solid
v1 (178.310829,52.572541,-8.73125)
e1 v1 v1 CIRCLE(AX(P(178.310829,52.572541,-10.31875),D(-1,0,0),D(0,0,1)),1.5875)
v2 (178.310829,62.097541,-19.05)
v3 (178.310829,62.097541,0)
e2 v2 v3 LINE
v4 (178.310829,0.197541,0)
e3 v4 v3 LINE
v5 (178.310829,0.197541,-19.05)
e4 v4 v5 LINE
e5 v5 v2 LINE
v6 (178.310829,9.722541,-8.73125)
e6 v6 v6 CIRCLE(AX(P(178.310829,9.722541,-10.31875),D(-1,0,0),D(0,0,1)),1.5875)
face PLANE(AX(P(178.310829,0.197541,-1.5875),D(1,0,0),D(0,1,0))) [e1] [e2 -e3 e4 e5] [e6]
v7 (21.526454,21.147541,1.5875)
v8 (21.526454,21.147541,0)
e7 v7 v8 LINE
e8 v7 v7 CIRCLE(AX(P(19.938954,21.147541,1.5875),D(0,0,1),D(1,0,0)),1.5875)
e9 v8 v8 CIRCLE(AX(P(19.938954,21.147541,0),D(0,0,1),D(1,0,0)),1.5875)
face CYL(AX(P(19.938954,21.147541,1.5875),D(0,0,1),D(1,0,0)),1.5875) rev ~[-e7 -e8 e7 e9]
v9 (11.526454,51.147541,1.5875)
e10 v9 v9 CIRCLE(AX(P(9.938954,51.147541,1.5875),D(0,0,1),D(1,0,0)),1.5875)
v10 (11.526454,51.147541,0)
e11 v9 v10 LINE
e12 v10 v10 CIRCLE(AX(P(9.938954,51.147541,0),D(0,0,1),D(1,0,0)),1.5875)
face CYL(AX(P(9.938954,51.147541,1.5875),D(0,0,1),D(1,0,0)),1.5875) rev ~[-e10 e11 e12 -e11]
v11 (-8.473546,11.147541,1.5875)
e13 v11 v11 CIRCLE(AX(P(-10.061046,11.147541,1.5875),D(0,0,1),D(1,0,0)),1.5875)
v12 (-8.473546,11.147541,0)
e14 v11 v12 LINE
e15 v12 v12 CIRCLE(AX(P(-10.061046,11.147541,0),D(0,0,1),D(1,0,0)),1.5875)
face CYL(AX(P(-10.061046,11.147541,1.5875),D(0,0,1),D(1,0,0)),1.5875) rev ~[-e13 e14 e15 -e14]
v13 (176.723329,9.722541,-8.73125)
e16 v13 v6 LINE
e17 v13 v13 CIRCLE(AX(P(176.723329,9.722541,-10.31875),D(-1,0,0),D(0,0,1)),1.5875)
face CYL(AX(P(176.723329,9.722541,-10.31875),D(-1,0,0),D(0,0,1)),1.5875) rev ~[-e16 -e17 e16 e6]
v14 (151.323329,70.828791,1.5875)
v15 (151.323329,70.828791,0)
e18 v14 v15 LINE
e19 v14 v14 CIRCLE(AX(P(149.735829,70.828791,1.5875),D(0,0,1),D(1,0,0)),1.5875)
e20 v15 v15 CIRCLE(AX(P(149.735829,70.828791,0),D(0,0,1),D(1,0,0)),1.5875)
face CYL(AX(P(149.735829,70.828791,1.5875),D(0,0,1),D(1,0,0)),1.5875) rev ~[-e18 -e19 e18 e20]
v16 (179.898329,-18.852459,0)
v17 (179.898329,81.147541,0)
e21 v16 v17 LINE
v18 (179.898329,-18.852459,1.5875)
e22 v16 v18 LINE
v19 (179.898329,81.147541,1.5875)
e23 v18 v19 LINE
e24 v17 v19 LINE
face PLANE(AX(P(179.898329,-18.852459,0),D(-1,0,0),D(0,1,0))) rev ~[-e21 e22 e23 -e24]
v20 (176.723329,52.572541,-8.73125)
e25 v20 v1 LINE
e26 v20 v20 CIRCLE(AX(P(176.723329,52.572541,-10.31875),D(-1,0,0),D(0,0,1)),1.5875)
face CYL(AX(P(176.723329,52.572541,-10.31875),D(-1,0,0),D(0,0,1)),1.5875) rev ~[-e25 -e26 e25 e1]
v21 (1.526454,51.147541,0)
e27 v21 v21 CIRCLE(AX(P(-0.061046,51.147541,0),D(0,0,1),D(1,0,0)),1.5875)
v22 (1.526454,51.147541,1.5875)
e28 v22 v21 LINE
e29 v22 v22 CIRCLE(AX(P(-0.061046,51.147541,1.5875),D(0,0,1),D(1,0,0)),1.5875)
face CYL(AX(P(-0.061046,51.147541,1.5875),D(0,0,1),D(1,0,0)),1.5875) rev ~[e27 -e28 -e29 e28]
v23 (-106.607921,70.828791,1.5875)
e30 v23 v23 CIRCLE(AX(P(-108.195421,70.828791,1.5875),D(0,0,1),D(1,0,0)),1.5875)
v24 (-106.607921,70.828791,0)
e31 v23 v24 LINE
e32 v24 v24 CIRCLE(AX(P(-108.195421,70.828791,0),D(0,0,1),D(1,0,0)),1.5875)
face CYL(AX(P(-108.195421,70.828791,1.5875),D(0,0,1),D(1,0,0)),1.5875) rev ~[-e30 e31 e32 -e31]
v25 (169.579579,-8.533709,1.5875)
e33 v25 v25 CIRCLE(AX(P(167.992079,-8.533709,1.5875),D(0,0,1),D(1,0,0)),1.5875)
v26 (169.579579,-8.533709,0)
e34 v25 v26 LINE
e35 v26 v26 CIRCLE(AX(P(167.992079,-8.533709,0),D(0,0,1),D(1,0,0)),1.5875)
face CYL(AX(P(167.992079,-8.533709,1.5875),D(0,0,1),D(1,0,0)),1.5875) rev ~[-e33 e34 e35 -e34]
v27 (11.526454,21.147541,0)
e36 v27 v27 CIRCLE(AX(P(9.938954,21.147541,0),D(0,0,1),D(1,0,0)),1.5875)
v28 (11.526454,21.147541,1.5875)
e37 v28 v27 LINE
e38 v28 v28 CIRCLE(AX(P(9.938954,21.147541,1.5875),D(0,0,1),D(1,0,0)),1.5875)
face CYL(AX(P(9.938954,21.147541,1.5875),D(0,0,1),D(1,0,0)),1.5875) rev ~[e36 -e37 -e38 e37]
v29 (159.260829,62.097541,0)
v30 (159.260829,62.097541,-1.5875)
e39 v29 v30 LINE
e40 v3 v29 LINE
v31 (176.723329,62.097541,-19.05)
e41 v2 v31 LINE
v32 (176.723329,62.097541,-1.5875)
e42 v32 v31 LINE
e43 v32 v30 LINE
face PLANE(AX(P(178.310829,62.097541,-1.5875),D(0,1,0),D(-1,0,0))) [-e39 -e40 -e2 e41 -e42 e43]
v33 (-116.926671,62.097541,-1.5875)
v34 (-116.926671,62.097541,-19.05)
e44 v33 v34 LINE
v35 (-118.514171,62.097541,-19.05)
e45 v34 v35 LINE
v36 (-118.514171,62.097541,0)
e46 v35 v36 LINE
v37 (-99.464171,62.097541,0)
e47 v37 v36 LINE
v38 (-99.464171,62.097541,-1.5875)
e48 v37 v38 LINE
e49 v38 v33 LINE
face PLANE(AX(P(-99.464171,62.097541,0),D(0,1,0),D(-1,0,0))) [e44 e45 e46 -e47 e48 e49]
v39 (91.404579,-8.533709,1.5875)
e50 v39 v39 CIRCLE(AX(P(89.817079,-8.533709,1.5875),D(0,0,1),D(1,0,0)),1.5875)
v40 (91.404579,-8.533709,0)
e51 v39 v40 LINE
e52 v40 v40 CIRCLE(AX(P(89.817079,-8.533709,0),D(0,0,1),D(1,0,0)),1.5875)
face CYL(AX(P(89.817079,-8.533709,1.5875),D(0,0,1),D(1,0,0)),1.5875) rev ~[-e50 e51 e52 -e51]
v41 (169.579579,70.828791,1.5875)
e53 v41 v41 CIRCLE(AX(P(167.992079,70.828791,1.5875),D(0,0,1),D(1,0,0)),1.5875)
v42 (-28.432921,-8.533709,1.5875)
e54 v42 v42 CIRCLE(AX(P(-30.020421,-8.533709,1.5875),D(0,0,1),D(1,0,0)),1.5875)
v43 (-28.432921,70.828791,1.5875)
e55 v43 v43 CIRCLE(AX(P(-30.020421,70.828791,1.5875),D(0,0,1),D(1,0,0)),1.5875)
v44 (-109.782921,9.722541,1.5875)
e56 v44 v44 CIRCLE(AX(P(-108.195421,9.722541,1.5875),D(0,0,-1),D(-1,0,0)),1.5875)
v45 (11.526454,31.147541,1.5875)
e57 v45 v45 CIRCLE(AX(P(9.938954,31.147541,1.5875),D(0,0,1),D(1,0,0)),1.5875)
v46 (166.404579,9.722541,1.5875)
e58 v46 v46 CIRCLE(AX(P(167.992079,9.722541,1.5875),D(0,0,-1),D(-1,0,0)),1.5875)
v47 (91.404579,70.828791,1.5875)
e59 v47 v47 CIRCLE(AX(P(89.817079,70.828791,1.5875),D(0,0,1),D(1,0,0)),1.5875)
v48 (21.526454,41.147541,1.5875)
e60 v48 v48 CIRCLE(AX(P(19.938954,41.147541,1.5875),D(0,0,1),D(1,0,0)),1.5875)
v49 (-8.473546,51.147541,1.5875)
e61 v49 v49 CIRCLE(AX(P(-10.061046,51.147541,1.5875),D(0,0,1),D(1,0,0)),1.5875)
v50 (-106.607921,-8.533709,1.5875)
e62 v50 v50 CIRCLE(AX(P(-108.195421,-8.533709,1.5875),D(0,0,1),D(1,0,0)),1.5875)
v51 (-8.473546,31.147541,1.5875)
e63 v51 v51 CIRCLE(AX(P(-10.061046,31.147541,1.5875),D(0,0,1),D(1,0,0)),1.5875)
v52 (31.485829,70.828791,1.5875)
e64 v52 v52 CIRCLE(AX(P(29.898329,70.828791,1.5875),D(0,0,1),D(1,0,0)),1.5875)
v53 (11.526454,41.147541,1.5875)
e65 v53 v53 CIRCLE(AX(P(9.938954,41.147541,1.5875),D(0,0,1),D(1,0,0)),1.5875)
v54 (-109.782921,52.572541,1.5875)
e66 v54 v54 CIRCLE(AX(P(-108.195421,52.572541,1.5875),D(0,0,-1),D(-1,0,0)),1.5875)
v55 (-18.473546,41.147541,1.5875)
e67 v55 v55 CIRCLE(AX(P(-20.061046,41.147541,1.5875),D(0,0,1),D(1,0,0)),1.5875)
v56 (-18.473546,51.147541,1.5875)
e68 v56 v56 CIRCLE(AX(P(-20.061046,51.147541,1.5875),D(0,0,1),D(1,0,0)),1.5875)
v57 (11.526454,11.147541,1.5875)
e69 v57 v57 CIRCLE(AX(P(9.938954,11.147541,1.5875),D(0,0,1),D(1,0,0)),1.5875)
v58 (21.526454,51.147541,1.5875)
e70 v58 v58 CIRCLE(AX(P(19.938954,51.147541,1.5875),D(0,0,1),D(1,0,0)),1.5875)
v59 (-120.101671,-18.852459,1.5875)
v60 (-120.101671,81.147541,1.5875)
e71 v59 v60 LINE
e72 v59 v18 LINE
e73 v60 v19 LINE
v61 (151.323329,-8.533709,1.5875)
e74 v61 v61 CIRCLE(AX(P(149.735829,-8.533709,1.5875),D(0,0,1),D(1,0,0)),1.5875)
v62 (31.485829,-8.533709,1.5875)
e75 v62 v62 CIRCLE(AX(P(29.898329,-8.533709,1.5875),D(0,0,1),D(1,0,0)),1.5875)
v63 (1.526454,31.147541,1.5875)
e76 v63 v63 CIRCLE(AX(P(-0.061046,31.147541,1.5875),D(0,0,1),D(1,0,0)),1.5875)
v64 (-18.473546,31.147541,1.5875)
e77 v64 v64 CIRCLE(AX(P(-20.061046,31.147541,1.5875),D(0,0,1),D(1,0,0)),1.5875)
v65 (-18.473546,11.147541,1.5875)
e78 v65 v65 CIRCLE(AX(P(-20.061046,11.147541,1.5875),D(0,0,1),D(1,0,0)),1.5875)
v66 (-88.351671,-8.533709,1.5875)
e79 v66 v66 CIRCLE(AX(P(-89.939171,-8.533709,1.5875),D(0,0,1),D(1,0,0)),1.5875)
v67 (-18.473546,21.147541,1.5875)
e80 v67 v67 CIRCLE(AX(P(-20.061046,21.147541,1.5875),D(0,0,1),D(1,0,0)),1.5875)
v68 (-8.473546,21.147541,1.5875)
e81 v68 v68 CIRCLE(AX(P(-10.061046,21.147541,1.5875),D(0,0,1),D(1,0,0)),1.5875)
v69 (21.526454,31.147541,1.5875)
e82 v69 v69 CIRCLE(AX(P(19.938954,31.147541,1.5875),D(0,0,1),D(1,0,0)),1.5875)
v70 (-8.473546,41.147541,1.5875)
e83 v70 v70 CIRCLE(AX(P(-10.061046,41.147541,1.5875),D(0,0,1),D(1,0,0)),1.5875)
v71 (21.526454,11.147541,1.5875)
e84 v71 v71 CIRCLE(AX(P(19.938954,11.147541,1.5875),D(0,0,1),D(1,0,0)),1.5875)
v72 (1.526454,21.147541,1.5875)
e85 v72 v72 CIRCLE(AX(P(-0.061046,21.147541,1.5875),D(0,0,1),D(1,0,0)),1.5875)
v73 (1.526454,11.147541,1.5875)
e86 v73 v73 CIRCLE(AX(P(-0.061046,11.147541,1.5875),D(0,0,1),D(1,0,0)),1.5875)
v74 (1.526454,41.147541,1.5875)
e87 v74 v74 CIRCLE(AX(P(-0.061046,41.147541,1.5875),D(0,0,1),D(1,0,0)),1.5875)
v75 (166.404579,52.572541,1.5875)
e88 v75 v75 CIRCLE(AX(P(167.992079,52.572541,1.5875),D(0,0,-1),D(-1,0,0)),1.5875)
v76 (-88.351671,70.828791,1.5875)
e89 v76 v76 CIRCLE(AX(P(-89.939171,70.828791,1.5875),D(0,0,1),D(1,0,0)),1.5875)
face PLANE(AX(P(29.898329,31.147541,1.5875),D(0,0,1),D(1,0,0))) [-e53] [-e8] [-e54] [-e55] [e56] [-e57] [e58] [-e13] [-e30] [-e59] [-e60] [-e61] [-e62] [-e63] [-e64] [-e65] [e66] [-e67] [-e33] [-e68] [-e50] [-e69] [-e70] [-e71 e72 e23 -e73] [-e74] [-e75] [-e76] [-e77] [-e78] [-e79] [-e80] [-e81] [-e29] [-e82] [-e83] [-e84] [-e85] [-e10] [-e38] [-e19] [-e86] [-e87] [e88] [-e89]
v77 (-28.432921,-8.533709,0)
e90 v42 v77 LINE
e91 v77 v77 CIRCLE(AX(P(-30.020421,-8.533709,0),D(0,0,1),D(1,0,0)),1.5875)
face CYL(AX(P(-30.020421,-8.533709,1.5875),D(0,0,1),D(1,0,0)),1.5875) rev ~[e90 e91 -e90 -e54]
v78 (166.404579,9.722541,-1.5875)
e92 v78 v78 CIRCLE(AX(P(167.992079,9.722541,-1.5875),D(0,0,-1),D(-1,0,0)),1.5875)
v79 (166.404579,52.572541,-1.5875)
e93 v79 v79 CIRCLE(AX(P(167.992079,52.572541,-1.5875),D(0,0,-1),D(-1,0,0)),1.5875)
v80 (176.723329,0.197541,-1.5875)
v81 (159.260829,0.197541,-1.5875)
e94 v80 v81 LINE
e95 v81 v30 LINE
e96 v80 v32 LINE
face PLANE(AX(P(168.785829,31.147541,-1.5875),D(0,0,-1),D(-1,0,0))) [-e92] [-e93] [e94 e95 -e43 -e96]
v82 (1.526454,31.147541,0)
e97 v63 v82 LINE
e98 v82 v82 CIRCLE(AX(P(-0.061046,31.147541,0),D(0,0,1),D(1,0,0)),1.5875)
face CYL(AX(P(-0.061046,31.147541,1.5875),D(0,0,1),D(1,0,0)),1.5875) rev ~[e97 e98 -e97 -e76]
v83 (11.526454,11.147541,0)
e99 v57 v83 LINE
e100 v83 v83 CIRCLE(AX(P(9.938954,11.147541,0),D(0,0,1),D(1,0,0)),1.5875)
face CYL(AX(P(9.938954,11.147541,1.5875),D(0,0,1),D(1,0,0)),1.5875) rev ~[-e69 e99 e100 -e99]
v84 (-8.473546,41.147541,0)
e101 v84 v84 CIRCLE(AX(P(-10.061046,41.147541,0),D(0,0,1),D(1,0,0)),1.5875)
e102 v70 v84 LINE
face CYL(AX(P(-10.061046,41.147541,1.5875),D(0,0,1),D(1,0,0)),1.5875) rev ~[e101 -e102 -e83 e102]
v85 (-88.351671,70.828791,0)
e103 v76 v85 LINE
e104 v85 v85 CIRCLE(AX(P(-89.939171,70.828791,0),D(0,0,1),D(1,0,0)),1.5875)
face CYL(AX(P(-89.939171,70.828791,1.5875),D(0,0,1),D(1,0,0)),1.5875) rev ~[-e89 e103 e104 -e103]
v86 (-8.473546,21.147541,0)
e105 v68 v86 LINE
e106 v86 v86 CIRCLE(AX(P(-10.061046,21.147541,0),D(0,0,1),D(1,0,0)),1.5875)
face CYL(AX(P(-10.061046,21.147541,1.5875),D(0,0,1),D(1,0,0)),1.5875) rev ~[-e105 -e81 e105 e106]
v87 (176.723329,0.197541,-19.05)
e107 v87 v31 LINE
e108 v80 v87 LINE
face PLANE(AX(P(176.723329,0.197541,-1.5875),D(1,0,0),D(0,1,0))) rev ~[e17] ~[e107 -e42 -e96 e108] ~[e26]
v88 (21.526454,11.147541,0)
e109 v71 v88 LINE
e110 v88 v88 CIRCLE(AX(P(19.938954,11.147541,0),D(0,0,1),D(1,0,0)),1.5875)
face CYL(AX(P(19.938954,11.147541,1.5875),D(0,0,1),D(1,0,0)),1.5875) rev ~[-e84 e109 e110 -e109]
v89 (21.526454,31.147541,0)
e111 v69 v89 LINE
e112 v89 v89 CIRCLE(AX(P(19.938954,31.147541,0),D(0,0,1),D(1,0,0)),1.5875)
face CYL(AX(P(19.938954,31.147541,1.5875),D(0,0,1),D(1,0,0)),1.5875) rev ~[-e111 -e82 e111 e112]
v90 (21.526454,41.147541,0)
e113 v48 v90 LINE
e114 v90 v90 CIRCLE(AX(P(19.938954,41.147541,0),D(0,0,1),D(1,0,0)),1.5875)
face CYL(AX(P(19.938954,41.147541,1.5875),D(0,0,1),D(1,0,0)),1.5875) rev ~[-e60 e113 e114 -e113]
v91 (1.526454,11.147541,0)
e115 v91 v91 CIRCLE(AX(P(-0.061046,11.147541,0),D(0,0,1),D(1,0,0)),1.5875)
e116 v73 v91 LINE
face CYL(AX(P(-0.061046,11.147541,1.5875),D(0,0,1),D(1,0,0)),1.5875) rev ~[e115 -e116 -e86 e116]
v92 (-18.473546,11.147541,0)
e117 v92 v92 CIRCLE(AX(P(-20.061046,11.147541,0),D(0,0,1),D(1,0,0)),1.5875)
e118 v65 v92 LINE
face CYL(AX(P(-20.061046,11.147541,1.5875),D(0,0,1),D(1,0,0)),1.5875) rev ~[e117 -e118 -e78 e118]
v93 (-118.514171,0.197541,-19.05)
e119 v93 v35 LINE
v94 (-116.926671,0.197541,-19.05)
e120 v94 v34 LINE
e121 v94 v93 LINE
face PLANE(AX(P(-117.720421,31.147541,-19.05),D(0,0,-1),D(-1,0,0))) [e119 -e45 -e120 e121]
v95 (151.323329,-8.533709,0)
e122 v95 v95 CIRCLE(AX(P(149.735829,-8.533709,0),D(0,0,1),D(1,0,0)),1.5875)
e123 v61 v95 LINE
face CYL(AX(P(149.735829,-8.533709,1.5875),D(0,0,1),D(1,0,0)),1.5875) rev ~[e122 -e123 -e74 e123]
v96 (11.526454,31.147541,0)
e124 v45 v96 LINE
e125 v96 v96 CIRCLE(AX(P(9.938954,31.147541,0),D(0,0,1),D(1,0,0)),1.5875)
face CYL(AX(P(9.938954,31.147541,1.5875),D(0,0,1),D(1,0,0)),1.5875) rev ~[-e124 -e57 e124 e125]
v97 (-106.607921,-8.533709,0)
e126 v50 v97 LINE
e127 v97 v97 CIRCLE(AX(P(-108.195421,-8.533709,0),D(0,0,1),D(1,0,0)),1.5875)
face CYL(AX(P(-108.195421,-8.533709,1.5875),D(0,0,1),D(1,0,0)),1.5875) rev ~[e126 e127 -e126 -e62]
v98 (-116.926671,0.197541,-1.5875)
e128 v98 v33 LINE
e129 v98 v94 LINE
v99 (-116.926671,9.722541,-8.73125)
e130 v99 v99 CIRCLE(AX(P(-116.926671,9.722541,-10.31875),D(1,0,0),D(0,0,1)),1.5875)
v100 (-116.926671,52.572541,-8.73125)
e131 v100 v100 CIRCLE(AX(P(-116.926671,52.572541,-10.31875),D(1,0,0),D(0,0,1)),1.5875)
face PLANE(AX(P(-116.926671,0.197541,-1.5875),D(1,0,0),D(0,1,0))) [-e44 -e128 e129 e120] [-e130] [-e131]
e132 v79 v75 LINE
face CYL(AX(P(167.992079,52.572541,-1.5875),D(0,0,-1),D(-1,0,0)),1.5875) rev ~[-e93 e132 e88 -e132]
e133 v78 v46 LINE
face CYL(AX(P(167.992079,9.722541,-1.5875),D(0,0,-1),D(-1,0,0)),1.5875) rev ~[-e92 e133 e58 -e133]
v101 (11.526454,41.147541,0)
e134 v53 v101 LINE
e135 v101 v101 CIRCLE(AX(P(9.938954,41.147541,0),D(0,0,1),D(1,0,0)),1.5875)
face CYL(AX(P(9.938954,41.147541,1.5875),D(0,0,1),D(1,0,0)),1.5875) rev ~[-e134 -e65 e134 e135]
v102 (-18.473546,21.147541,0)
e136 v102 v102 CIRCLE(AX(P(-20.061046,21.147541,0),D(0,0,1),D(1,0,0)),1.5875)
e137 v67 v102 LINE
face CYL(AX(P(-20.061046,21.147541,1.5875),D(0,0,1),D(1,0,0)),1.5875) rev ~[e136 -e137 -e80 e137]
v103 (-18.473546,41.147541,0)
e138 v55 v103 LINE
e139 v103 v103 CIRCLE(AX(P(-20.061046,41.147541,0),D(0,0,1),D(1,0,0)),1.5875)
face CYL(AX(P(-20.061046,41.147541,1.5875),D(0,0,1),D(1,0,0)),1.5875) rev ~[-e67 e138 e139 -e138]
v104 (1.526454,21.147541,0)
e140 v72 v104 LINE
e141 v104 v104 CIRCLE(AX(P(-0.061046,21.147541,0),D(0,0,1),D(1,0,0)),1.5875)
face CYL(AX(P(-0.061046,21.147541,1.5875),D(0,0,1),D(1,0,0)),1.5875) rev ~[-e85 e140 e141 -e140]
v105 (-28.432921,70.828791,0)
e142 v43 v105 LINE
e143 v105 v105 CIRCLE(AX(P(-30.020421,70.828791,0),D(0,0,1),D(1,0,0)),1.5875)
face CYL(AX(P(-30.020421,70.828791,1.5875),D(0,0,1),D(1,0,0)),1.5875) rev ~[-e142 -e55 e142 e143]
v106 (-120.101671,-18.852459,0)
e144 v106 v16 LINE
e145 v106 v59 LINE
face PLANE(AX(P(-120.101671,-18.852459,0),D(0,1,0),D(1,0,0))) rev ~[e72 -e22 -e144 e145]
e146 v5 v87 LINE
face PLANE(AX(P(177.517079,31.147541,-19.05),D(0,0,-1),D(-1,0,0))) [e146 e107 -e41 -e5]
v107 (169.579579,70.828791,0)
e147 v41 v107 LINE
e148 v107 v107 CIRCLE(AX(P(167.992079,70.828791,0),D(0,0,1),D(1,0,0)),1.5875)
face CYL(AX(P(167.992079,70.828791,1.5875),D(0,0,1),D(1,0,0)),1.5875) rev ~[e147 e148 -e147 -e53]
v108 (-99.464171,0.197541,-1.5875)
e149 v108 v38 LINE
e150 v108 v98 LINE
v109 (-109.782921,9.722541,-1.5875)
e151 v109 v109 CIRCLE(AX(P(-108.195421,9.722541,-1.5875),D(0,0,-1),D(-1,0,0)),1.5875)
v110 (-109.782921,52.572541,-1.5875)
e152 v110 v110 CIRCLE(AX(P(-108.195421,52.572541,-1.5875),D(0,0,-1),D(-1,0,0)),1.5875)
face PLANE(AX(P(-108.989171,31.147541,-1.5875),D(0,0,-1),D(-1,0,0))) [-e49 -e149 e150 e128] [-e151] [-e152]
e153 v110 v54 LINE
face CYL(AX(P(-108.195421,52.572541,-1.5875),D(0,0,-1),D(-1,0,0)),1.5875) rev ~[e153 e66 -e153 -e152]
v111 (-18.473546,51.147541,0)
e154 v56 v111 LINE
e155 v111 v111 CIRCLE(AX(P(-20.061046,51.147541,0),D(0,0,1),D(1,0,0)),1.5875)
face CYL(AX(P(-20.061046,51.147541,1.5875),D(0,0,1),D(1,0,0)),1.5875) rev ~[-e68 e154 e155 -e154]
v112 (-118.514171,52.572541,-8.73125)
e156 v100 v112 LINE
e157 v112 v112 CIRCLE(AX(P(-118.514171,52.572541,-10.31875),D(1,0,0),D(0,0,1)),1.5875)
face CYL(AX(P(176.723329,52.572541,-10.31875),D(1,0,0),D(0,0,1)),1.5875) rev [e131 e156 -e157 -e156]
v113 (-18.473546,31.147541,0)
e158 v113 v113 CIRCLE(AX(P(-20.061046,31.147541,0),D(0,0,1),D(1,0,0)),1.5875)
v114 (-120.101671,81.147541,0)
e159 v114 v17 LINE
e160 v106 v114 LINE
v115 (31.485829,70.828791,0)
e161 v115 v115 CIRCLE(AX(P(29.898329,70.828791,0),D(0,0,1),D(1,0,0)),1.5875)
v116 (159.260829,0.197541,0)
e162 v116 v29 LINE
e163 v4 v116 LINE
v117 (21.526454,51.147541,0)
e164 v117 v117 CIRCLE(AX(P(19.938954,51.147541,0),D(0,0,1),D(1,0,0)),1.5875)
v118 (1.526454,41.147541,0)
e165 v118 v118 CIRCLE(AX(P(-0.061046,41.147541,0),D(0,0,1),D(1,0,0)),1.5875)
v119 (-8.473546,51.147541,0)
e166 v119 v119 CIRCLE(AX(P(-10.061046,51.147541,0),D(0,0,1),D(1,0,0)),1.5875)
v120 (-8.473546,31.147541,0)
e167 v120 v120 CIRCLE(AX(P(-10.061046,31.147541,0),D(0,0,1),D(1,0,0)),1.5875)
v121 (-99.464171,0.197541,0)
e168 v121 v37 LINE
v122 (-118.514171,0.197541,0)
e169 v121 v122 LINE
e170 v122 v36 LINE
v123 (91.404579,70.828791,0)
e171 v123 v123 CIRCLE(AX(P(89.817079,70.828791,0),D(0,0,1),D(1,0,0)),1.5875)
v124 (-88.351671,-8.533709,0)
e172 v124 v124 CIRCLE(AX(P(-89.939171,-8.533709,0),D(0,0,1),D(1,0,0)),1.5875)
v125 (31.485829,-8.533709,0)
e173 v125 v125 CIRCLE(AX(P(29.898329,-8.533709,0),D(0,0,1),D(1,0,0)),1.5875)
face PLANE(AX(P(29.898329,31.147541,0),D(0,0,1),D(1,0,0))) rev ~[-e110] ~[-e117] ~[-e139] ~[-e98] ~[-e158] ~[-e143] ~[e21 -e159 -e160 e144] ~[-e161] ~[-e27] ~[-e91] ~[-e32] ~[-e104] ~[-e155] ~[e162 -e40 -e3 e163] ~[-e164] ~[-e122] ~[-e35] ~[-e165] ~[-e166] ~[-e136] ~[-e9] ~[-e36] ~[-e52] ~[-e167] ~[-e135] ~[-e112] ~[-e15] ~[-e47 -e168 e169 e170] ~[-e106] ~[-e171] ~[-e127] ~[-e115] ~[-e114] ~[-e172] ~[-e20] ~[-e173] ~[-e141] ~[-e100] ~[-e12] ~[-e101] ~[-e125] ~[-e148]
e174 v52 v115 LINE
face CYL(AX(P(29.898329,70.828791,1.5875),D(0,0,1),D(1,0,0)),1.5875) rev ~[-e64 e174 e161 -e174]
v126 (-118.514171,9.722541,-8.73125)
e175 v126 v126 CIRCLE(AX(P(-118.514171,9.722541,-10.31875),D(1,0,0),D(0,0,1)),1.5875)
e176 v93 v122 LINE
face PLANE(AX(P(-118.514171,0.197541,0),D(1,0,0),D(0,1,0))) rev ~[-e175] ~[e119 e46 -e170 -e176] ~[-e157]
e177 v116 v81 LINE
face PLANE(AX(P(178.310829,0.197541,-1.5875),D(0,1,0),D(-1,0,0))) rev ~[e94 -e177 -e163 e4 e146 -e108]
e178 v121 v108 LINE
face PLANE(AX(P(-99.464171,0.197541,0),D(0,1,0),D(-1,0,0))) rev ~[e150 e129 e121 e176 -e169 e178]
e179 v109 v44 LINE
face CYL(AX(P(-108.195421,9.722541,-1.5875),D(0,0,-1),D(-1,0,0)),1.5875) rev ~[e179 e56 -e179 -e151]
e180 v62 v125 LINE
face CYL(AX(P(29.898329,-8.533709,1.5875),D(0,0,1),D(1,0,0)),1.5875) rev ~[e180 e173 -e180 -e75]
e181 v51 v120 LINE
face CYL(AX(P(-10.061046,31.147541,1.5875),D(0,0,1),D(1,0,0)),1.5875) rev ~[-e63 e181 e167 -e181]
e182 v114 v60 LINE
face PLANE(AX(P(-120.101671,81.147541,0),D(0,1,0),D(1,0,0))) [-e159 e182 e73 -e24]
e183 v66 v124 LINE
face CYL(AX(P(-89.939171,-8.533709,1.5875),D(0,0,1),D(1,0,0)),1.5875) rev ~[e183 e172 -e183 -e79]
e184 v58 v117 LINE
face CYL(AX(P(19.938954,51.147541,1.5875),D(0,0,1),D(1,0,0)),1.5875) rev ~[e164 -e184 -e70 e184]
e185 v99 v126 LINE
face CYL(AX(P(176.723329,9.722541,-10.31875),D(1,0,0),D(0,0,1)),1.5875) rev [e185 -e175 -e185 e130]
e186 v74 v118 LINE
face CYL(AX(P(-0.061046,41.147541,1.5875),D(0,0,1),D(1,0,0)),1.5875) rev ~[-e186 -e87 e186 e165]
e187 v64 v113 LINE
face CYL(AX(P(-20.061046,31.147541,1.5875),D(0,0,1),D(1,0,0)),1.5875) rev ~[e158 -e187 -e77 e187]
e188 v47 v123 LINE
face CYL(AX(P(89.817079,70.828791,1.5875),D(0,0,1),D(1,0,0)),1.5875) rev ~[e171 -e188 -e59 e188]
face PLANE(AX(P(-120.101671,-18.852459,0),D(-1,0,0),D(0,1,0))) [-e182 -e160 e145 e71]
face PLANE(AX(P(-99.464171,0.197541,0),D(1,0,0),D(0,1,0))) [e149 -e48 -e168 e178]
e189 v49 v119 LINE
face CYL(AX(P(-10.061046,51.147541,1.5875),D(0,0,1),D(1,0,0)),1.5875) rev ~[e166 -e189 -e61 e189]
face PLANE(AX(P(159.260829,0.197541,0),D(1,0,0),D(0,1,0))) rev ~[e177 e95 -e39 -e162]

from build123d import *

# Parameters (mm, degrees)
ESQUISSE1_W                  = 300
ESQUISSE1_H                  = 100
BOSS_EXTRU_1_DEPTH           = 1.5875
ESQUISSE2_W                  = 19.05
ESQUISSE2_H                  = 61.9
BOSS_EXTRU_2_DEPTH           = 1.5875
ESQUISSE3_W                  = 1.5875
ESQUISSE3_H                  = 61.9
BOSS_EXTRU_3_DEPTH           = 17.4625
ENL_V_MAT_EXTRU_1_REACH      = 5.175
ESQUISSE4_R                  = 1.5875
ENL_V_MAT_EXTRU_2_REACH      = 22.637
ESQUISSE5_R                  = 1.5875
ESQUISSE7_R                  = 1.5875
ENL_V_MAT_EXTRU_4_DEPTH      = 297.825
ENL_V_MAT_EXTRU_4_DEPTH_BACK = 4.175
ESQUISSE8_R                  = 1.5875
ENL_V_MAT_EXTRU_5_DEPTH      = 1.5875


with BuildPart() as part:
    # Esquisse1 → Boss.-Extru.1 (new body)
    with BuildSketch(Plane.XY):
        with Locations((29.89832913, 31.147540984)):
            Rectangle(ESQUISSE1_W, ESQUISSE1_H)
    extrude(amount=BOSS_EXTRU_1_DEPTH)

    # Esquisse2 → Boss.-Extru.2 (add)
    with BuildSketch(Plane(origin=(0, 0, 0), x_dir=(-1, 0, 0), z_dir=(0, 0, -1))):
        with Locations((108.98917087, 31.147540984)):
            Rectangle(ESQUISSE2_W, ESQUISSE2_H)
        with Locations((-168.78582913, 31.147540984)):
            Rectangle(ESQUISSE2_W, ESQUISSE2_H)
    extrude(amount=BOSS_EXTRU_2_DEPTH)

    # Esquisse3 → Boss.-Extru.3 (add)
    with BuildSketch(Plane(origin=(0, 0, -1.5875), x_dir=(-1, 0, 0), z_dir=(0, 0, -1))):
        with Locations((-177.51707913, 31.147540984)):
            Rectangle(ESQUISSE3_W, ESQUISSE3_H)
        with Locations((117.72042087, 31.147540984)):
            Rectangle(ESQUISSE3_W, ESQUISSE3_H)
    extrude(amount=BOSS_EXTRU_3_DEPTH)

    # Esquisse4 → Enlèv. mat.-Extru.1 (cut, up to next)
    with BuildSketch(Plane(origin=(0, 0, -1.5875), x_dir=(-1, 0, 0), z_dir=(0, 0, -1)), mode=Mode.PRIVATE) as enl_v_mat_extru_1_sk1:
        with Locations((-167.99207913, 52.572540984)):
            Circle(ESQUISSE4_R)
    enl_v_mat_extru_1_tool1 = extrude(enl_v_mat_extru_1_sk1.sketch, amount=-ENL_V_MAT_EXTRU_1_REACH, mode=Mode.PRIVATE) & part.part
    add(enl_v_mat_extru_1_tool1.solids().sort_by_distance((167.992079, 52.572541, -1.5875))[0], mode=Mode.SUBTRACT)
    # Esquisse4 → Enlèv. mat.-Extru.1 (cut, up to next)
    with BuildSketch(Plane(origin=(0, 0, -1.5875), x_dir=(-1, 0, 0), z_dir=(0, 0, -1)), mode=Mode.PRIVATE) as enl_v_mat_extru_1_sk2:
        with Locations((-167.99207913, 9.722540984)):
            Circle(ESQUISSE4_R)
    enl_v_mat_extru_1_tool2 = extrude(enl_v_mat_extru_1_sk2.sketch, amount=-ENL_V_MAT_EXTRU_1_REACH, mode=Mode.PRIVATE) & part.part
    add(enl_v_mat_extru_1_tool2.solids().sort_by_distance((167.992079, 9.722541, -1.5875))[0], mode=Mode.SUBTRACT)
    # Esquisse4 → Enlèv. mat.-Extru.1 (cut, up to next)
    with BuildSketch(Plane(origin=(0, 0, -1.5875), x_dir=(-1, 0, 0), z_dir=(0, 0, -1)), mode=Mode.PRIVATE) as enl_v_mat_extru_1_sk3:
        with Locations((108.19542087, 52.572540984)):
            Circle(ESQUISSE4_R)
    enl_v_mat_extru_1_tool3 = extrude(enl_v_mat_extru_1_sk3.sketch, amount=-ENL_V_MAT_EXTRU_1_REACH, mode=Mode.PRIVATE) & part.part
    add(enl_v_mat_extru_1_tool3.solids().sort_by_distance((-108.195421, 52.572541, -1.5875))[0], mode=Mode.SUBTRACT)
    # Esquisse4 → Enlèv. mat.-Extru.1 (cut, up to next)
    with BuildSketch(Plane(origin=(0, 0, -1.5875), x_dir=(-1, 0, 0), z_dir=(0, 0, -1)), mode=Mode.PRIVATE) as enl_v_mat_extru_1_sk4:
        with Locations((108.19542087, 9.722540984)):
            Circle(ESQUISSE4_R)
    enl_v_mat_extru_1_tool4 = extrude(enl_v_mat_extru_1_sk4.sketch, amount=-ENL_V_MAT_EXTRU_1_REACH, mode=Mode.PRIVATE) & part.part
    add(enl_v_mat_extru_1_tool4.solids().sort_by_distance((-108.195421, 9.722541, -1.5875))[0], mode=Mode.SUBTRACT)

    # Esquisse5 → Enlèv. mat.-Extru.2 (cut, up to next)
    with BuildSketch(Plane.XY.offset(1.5875), mode=Mode.PRIVATE) as enl_v_mat_extru_2_sk1:
        with Locations((-108.19542087, -8.533709016)):
            Circle(ESQUISSE5_R)
    enl_v_mat_extru_2_tool1 = extrude(enl_v_mat_extru_2_sk1.sketch, amount=-ENL_V_MAT_EXTRU_2_REACH, mode=Mode.PRIVATE) & part.part
    add(enl_v_mat_extru_2_tool1.solids().sort_by_distance((-108.195421, -8.533709, 1.5875))[0], mode=Mode.SUBTRACT)
    # Esquisse5 → Enlèv. mat.-Extru.2 (cut, up to next)
    with BuildSketch(Plane.XY.offset(1.5875), mode=Mode.PRIVATE) as enl_v_mat_extru_2_sk2:
        with Locations((-89.93917087, -8.533709016)):
            Circle(ESQUISSE5_R)
    enl_v_mat_extru_2_tool2 = extrude(enl_v_mat_extru_2_sk2.sketch, amount=-ENL_V_MAT_EXTRU_2_REACH, mode=Mode.PRIVATE) & part.part
    add(enl_v_mat_extru_2_tool2.solids().sort_by_distance((-89.939171, -8.533709, 1.5875))[0], mode=Mode.SUBTRACT)
    # Esquisse5 → Enlèv. mat.-Extru.2 (cut, up to next)
    with BuildSketch(Plane.XY.offset(1.5875), mode=Mode.PRIVATE) as enl_v_mat_extru_2_sk3:
        with Locations((-30.02042087, -8.533709016)):
            Circle(ESQUISSE5_R)
    enl_v_mat_extru_2_tool3 = extrude(enl_v_mat_extru_2_sk3.sketch, amount=-ENL_V_MAT_EXTRU_2_REACH, mode=Mode.PRIVATE) & part.part
    add(enl_v_mat_extru_2_tool3.solids().sort_by_distance((-30.020421, -8.533709, 1.5875))[0], mode=Mode.SUBTRACT)
    # Esquisse5 → Enlèv. mat.-Extru.2 (cut, up to next)
    with BuildSketch(Plane.XY.offset(1.5875), mode=Mode.PRIVATE) as enl_v_mat_extru_2_sk4:
        with Locations((29.89832913, -8.533709016)):
            Circle(ESQUISSE5_R)
    enl_v_mat_extru_2_tool4 = extrude(enl_v_mat_extru_2_sk4.sketch, amount=-ENL_V_MAT_EXTRU_2_REACH, mode=Mode.PRIVATE) & part.part
    add(enl_v_mat_extru_2_tool4.solids().sort_by_distance((29.898329, -8.533709, 1.5875))[0], mode=Mode.SUBTRACT)
    # Esquisse5 → Enlèv. mat.-Extru.2 (cut, up to next)
    with BuildSketch(Plane.XY.offset(1.5875), mode=Mode.PRIVATE) as enl_v_mat_extru_2_sk5:
        with Locations((89.81707913, -8.533709016)):
            Circle(ESQUISSE5_R)
    enl_v_mat_extru_2_tool5 = extrude(enl_v_mat_extru_2_sk5.sketch, amount=-ENL_V_MAT_EXTRU_2_REACH, mode=Mode.PRIVATE) & part.part
    add(enl_v_mat_extru_2_tool5.solids().sort_by_distance((89.817079, -8.533709, 1.5875))[0], mode=Mode.SUBTRACT)
    # Esquisse5 → Enlèv. mat.-Extru.2 (cut, up to next)
    with BuildSketch(Plane.XY.offset(1.5875), mode=Mode.PRIVATE) as enl_v_mat_extru_2_sk6:
        with Locations((149.73582913, -8.533709016)):
            Circle(ESQUISSE5_R)
    enl_v_mat_extru_2_tool6 = extrude(enl_v_mat_extru_2_sk6.sketch, amount=-ENL_V_MAT_EXTRU_2_REACH, mode=Mode.PRIVATE) & part.part
    add(enl_v_mat_extru_2_tool6.solids().sort_by_distance((149.735829, -8.533709, 1.5875))[0], mode=Mode.SUBTRACT)
    # Esquisse5 → Enlèv. mat.-Extru.2 (cut, up to next)
    with BuildSketch(Plane.XY.offset(1.5875), mode=Mode.PRIVATE) as enl_v_mat_extru_2_sk7:
        with Locations((167.99207913, -8.533709016)):
            Circle(ESQUISSE5_R)
    enl_v_mat_extru_2_tool7 = extrude(enl_v_mat_extru_2_sk7.sketch, amount=-ENL_V_MAT_EXTRU_2_REACH, mode=Mode.PRIVATE) & part.part
    add(enl_v_mat_extru_2_tool7.solids().sort_by_distance((167.992079, -8.533709, 1.5875))[0], mode=Mode.SUBTRACT)
    # Esquisse5 → Enlèv. mat.-Extru.2 (cut, up to next)
    with BuildSketch(Plane.XY.offset(1.5875), mode=Mode.PRIVATE) as enl_v_mat_extru_2_sk8:
        with Locations((167.99207913, 70.828790984)):
            Circle(ESQUISSE5_R)
    enl_v_mat_extru_2_tool8 = extrude(enl_v_mat_extru_2_sk8.sketch, amount=-ENL_V_MAT_EXTRU_2_REACH, mode=Mode.PRIVATE) & part.part
    add(enl_v_mat_extru_2_tool8.solids().sort_by_distance((167.992079, 70.828791, 1.5875))[0], mode=Mode.SUBTRACT)
    # Esquisse5 → Enlèv. mat.-Extru.2 (cut, up to next)
    with BuildSketch(Plane.XY.offset(1.5875), mode=Mode.PRIVATE) as enl_v_mat_extru_2_sk9:
        with Locations((149.73582913, 70.828790984)):
            Circle(ESQUISSE5_R)
    enl_v_mat_extru_2_tool9 = extrude(enl_v_mat_extru_2_sk9.sketch, amount=-ENL_V_MAT_EXTRU_2_REACH, mode=Mode.PRIVATE) & part.part
    add(enl_v_mat_extru_2_tool9.solids().sort_by_distance((149.735829, 70.828791, 1.5875))[0], mode=Mode.SUBTRACT)
    # Esquisse5 → Enlèv. mat.-Extru.2 (cut, up to next)
    with BuildSketch(Plane.XY.offset(1.5875), mode=Mode.PRIVATE) as enl_v_mat_extru_2_sk10:
        with Locations((89.81707913, 70.828790984)):
            Circle(ESQUISSE5_R)
    enl_v_mat_extru_2_tool10 = extrude(enl_v_mat_extru_2_sk10.sketch, amount=-ENL_V_MAT_EXTRU_2_REACH, mode=Mode.PRIVATE) & part.part
    add(enl_v_mat_extru_2_tool10.solids().sort_by_distance((89.817079, 70.828791, 1.5875))[0], mode=Mode.SUBTRACT)
    # Esquisse5 → Enlèv. mat.-Extru.2 (cut, up to next)
    with BuildSketch(Plane.XY.offset(1.5875), mode=Mode.PRIVATE) as enl_v_mat_extru_2_sk11:
        with Locations((29.89832913, 70.828790984)):
            Circle(ESQUISSE5_R)
    enl_v_mat_extru_2_tool11 = extrude(enl_v_mat_extru_2_sk11.sketch, amount=-ENL_V_MAT_EXTRU_2_REACH, mode=Mode.PRIVATE) & part.part
    add(enl_v_mat_extru_2_tool11.solids().sort_by_distance((29.898329, 70.828791, 1.5875))[0], mode=Mode.SUBTRACT)
    # Esquisse5 → Enlèv. mat.-Extru.2 (cut, up to next)
    with BuildSketch(Plane.XY.offset(1.5875), mode=Mode.PRIVATE) as enl_v_mat_extru_2_sk12:
        with Locations((-30.02042087, 70.828790984)):
            Circle(ESQUISSE5_R)
    enl_v_mat_extru_2_tool12 = extrude(enl_v_mat_extru_2_sk12.sketch, amount=-ENL_V_MAT_EXTRU_2_REACH, mode=Mode.PRIVATE) & part.part
    add(enl_v_mat_extru_2_tool12.solids().sort_by_distance((-30.020421, 70.828791, 1.5875))[0], mode=Mode.SUBTRACT)
    # Esquisse5 → Enlèv. mat.-Extru.2 (cut, up to next)
    with BuildSketch(Plane.XY.offset(1.5875), mode=Mode.PRIVATE) as enl_v_mat_extru_2_sk13:
        with Locations((-89.93917087, 70.828790984)):
            Circle(ESQUISSE5_R)
    enl_v_mat_extru_2_tool13 = extrude(enl_v_mat_extru_2_sk13.sketch, amount=-ENL_V_MAT_EXTRU_2_REACH, mode=Mode.PRIVATE) & part.part
    add(enl_v_mat_extru_2_tool13.solids().sort_by_distance((-89.939171, 70.828791, 1.5875))[0], mode=Mode.SUBTRACT)
    # Esquisse5 → Enlèv. mat.-Extru.2 (cut, up to next)
    with BuildSketch(Plane.XY.offset(1.5875), mode=Mode.PRIVATE) as enl_v_mat_extru_2_sk14:
        with Locations((-108.19542087, 70.828790984)):
            Circle(ESQUISSE5_R)
    enl_v_mat_extru_2_tool14 = extrude(enl_v_mat_extru_2_sk14.sketch, amount=-ENL_V_MAT_EXTRU_2_REACH, mode=Mode.PRIVATE) & part.part
    add(enl_v_mat_extru_2_tool14.solids().sort_by_distance((-108.195421, 70.828791, 1.5875))[0], mode=Mode.SUBTRACT)

    # Esquisse7 → Enlèv. mat.-Extru.4 (cut, two sides)
    with BuildSketch(Plane.ZY.offset(-176.72332913)) as enl_v_mat_extru_4_sk:
        with Locations((-10.31875, 52.572540984)):
            Circle(ESQUISSE7_R)
        with Locations((-10.31875, 9.722540984)):
            Circle(ESQUISSE7_R)
    extrude(amount=ENL_V_MAT_EXTRU_4_DEPTH, mode=Mode.SUBTRACT)
    extrude(enl_v_mat_extru_4_sk.sketch, amount=-ENL_V_MAT_EXTRU_4_DEPTH_BACK, mode=Mode.SUBTRACT)

    # Esquisse8 → Enlèv. mat.-Extru.5 (cut)
    with BuildSketch(Plane.XY.offset(1.5875)):
        with Locations((-20.06104587, 11.147540984)):
            Circle(ESQUISSE8_R)
        with Locations((-10.06104587, 11.147540984)):
            Circle(ESQUISSE8_R)
        with Locations((-0.06104587, 11.147540984)):
            Circle(ESQUISSE8_R)
        with Locations((9.93895413, 11.147540984)):
            Circle(ESQUISSE8_R)
        with Locations((19.93895413, 11.147540984)):
            Circle(ESQUISSE8_R)
        with Locations((-10.06104587, 21.147540984)):
            Circle(ESQUISSE8_R)
        with Locations((-0.06104587, 21.147540984)):
            Circle(ESQUISSE8_R)
        with Locations((9.93895413, 21.147540984)):
            Circle(ESQUISSE8_R)
        with Locations((19.93895413, 21.147540984)):
            Circle(ESQUISSE8_R)
        with Locations((-10.06104587, 31.147540984)):
            Circle(ESQUISSE8_R)
        with Locations((-0.06104587, 31.147540984)):
            Circle(ESQUISSE8_R)
        with Locations((9.93895413, 31.147540984)):
            Circle(ESQUISSE8_R)
        with Locations((19.93895413, 31.147540984)):
            Circle(ESQUISSE8_R)
        with Locations((-10.06104587, 41.147540984)):
            Circle(ESQUISSE8_R)
        with Locations((-0.06104587, 41.147540984)):
            Circle(ESQUISSE8_R)
        with Locations((9.93895413, 41.147540984)):
            Circle(ESQUISSE8_R)
        with Locations((19.93895413, 41.147540984)):
            Circle(ESQUISSE8_R)
        with Locations((-10.06104587, 51.147540984)):
            Circle(ESQUISSE8_R)
        with Locations((-0.06104587, 51.147540984)):
            Circle(ESQUISSE8_R)
        with Locations((9.93895413, 51.147540984)):
            Circle(ESQUISSE8_R)
        with Locations((19.93895413, 51.147540984)):
            Circle(ESQUISSE8_R)
        with Locations((-20.06104587, 21.147540984)):
            Circle(ESQUISSE8_R)
        with Locations((-20.06104587, 31.147540984)):
            Circle(ESQUISSE8_R)
        with Locations((-20.06104587, 41.147540984)):
            Circle(ESQUISSE8_R)
        with Locations((-20.06104587, 51.147540984)):
            Circle(ESQUISSE8_R)
    extrude(amount=-ENL_V_MAT_EXTRU_5_DEPTH, mode=Mode.SUBTRACT)


solid = part.part
